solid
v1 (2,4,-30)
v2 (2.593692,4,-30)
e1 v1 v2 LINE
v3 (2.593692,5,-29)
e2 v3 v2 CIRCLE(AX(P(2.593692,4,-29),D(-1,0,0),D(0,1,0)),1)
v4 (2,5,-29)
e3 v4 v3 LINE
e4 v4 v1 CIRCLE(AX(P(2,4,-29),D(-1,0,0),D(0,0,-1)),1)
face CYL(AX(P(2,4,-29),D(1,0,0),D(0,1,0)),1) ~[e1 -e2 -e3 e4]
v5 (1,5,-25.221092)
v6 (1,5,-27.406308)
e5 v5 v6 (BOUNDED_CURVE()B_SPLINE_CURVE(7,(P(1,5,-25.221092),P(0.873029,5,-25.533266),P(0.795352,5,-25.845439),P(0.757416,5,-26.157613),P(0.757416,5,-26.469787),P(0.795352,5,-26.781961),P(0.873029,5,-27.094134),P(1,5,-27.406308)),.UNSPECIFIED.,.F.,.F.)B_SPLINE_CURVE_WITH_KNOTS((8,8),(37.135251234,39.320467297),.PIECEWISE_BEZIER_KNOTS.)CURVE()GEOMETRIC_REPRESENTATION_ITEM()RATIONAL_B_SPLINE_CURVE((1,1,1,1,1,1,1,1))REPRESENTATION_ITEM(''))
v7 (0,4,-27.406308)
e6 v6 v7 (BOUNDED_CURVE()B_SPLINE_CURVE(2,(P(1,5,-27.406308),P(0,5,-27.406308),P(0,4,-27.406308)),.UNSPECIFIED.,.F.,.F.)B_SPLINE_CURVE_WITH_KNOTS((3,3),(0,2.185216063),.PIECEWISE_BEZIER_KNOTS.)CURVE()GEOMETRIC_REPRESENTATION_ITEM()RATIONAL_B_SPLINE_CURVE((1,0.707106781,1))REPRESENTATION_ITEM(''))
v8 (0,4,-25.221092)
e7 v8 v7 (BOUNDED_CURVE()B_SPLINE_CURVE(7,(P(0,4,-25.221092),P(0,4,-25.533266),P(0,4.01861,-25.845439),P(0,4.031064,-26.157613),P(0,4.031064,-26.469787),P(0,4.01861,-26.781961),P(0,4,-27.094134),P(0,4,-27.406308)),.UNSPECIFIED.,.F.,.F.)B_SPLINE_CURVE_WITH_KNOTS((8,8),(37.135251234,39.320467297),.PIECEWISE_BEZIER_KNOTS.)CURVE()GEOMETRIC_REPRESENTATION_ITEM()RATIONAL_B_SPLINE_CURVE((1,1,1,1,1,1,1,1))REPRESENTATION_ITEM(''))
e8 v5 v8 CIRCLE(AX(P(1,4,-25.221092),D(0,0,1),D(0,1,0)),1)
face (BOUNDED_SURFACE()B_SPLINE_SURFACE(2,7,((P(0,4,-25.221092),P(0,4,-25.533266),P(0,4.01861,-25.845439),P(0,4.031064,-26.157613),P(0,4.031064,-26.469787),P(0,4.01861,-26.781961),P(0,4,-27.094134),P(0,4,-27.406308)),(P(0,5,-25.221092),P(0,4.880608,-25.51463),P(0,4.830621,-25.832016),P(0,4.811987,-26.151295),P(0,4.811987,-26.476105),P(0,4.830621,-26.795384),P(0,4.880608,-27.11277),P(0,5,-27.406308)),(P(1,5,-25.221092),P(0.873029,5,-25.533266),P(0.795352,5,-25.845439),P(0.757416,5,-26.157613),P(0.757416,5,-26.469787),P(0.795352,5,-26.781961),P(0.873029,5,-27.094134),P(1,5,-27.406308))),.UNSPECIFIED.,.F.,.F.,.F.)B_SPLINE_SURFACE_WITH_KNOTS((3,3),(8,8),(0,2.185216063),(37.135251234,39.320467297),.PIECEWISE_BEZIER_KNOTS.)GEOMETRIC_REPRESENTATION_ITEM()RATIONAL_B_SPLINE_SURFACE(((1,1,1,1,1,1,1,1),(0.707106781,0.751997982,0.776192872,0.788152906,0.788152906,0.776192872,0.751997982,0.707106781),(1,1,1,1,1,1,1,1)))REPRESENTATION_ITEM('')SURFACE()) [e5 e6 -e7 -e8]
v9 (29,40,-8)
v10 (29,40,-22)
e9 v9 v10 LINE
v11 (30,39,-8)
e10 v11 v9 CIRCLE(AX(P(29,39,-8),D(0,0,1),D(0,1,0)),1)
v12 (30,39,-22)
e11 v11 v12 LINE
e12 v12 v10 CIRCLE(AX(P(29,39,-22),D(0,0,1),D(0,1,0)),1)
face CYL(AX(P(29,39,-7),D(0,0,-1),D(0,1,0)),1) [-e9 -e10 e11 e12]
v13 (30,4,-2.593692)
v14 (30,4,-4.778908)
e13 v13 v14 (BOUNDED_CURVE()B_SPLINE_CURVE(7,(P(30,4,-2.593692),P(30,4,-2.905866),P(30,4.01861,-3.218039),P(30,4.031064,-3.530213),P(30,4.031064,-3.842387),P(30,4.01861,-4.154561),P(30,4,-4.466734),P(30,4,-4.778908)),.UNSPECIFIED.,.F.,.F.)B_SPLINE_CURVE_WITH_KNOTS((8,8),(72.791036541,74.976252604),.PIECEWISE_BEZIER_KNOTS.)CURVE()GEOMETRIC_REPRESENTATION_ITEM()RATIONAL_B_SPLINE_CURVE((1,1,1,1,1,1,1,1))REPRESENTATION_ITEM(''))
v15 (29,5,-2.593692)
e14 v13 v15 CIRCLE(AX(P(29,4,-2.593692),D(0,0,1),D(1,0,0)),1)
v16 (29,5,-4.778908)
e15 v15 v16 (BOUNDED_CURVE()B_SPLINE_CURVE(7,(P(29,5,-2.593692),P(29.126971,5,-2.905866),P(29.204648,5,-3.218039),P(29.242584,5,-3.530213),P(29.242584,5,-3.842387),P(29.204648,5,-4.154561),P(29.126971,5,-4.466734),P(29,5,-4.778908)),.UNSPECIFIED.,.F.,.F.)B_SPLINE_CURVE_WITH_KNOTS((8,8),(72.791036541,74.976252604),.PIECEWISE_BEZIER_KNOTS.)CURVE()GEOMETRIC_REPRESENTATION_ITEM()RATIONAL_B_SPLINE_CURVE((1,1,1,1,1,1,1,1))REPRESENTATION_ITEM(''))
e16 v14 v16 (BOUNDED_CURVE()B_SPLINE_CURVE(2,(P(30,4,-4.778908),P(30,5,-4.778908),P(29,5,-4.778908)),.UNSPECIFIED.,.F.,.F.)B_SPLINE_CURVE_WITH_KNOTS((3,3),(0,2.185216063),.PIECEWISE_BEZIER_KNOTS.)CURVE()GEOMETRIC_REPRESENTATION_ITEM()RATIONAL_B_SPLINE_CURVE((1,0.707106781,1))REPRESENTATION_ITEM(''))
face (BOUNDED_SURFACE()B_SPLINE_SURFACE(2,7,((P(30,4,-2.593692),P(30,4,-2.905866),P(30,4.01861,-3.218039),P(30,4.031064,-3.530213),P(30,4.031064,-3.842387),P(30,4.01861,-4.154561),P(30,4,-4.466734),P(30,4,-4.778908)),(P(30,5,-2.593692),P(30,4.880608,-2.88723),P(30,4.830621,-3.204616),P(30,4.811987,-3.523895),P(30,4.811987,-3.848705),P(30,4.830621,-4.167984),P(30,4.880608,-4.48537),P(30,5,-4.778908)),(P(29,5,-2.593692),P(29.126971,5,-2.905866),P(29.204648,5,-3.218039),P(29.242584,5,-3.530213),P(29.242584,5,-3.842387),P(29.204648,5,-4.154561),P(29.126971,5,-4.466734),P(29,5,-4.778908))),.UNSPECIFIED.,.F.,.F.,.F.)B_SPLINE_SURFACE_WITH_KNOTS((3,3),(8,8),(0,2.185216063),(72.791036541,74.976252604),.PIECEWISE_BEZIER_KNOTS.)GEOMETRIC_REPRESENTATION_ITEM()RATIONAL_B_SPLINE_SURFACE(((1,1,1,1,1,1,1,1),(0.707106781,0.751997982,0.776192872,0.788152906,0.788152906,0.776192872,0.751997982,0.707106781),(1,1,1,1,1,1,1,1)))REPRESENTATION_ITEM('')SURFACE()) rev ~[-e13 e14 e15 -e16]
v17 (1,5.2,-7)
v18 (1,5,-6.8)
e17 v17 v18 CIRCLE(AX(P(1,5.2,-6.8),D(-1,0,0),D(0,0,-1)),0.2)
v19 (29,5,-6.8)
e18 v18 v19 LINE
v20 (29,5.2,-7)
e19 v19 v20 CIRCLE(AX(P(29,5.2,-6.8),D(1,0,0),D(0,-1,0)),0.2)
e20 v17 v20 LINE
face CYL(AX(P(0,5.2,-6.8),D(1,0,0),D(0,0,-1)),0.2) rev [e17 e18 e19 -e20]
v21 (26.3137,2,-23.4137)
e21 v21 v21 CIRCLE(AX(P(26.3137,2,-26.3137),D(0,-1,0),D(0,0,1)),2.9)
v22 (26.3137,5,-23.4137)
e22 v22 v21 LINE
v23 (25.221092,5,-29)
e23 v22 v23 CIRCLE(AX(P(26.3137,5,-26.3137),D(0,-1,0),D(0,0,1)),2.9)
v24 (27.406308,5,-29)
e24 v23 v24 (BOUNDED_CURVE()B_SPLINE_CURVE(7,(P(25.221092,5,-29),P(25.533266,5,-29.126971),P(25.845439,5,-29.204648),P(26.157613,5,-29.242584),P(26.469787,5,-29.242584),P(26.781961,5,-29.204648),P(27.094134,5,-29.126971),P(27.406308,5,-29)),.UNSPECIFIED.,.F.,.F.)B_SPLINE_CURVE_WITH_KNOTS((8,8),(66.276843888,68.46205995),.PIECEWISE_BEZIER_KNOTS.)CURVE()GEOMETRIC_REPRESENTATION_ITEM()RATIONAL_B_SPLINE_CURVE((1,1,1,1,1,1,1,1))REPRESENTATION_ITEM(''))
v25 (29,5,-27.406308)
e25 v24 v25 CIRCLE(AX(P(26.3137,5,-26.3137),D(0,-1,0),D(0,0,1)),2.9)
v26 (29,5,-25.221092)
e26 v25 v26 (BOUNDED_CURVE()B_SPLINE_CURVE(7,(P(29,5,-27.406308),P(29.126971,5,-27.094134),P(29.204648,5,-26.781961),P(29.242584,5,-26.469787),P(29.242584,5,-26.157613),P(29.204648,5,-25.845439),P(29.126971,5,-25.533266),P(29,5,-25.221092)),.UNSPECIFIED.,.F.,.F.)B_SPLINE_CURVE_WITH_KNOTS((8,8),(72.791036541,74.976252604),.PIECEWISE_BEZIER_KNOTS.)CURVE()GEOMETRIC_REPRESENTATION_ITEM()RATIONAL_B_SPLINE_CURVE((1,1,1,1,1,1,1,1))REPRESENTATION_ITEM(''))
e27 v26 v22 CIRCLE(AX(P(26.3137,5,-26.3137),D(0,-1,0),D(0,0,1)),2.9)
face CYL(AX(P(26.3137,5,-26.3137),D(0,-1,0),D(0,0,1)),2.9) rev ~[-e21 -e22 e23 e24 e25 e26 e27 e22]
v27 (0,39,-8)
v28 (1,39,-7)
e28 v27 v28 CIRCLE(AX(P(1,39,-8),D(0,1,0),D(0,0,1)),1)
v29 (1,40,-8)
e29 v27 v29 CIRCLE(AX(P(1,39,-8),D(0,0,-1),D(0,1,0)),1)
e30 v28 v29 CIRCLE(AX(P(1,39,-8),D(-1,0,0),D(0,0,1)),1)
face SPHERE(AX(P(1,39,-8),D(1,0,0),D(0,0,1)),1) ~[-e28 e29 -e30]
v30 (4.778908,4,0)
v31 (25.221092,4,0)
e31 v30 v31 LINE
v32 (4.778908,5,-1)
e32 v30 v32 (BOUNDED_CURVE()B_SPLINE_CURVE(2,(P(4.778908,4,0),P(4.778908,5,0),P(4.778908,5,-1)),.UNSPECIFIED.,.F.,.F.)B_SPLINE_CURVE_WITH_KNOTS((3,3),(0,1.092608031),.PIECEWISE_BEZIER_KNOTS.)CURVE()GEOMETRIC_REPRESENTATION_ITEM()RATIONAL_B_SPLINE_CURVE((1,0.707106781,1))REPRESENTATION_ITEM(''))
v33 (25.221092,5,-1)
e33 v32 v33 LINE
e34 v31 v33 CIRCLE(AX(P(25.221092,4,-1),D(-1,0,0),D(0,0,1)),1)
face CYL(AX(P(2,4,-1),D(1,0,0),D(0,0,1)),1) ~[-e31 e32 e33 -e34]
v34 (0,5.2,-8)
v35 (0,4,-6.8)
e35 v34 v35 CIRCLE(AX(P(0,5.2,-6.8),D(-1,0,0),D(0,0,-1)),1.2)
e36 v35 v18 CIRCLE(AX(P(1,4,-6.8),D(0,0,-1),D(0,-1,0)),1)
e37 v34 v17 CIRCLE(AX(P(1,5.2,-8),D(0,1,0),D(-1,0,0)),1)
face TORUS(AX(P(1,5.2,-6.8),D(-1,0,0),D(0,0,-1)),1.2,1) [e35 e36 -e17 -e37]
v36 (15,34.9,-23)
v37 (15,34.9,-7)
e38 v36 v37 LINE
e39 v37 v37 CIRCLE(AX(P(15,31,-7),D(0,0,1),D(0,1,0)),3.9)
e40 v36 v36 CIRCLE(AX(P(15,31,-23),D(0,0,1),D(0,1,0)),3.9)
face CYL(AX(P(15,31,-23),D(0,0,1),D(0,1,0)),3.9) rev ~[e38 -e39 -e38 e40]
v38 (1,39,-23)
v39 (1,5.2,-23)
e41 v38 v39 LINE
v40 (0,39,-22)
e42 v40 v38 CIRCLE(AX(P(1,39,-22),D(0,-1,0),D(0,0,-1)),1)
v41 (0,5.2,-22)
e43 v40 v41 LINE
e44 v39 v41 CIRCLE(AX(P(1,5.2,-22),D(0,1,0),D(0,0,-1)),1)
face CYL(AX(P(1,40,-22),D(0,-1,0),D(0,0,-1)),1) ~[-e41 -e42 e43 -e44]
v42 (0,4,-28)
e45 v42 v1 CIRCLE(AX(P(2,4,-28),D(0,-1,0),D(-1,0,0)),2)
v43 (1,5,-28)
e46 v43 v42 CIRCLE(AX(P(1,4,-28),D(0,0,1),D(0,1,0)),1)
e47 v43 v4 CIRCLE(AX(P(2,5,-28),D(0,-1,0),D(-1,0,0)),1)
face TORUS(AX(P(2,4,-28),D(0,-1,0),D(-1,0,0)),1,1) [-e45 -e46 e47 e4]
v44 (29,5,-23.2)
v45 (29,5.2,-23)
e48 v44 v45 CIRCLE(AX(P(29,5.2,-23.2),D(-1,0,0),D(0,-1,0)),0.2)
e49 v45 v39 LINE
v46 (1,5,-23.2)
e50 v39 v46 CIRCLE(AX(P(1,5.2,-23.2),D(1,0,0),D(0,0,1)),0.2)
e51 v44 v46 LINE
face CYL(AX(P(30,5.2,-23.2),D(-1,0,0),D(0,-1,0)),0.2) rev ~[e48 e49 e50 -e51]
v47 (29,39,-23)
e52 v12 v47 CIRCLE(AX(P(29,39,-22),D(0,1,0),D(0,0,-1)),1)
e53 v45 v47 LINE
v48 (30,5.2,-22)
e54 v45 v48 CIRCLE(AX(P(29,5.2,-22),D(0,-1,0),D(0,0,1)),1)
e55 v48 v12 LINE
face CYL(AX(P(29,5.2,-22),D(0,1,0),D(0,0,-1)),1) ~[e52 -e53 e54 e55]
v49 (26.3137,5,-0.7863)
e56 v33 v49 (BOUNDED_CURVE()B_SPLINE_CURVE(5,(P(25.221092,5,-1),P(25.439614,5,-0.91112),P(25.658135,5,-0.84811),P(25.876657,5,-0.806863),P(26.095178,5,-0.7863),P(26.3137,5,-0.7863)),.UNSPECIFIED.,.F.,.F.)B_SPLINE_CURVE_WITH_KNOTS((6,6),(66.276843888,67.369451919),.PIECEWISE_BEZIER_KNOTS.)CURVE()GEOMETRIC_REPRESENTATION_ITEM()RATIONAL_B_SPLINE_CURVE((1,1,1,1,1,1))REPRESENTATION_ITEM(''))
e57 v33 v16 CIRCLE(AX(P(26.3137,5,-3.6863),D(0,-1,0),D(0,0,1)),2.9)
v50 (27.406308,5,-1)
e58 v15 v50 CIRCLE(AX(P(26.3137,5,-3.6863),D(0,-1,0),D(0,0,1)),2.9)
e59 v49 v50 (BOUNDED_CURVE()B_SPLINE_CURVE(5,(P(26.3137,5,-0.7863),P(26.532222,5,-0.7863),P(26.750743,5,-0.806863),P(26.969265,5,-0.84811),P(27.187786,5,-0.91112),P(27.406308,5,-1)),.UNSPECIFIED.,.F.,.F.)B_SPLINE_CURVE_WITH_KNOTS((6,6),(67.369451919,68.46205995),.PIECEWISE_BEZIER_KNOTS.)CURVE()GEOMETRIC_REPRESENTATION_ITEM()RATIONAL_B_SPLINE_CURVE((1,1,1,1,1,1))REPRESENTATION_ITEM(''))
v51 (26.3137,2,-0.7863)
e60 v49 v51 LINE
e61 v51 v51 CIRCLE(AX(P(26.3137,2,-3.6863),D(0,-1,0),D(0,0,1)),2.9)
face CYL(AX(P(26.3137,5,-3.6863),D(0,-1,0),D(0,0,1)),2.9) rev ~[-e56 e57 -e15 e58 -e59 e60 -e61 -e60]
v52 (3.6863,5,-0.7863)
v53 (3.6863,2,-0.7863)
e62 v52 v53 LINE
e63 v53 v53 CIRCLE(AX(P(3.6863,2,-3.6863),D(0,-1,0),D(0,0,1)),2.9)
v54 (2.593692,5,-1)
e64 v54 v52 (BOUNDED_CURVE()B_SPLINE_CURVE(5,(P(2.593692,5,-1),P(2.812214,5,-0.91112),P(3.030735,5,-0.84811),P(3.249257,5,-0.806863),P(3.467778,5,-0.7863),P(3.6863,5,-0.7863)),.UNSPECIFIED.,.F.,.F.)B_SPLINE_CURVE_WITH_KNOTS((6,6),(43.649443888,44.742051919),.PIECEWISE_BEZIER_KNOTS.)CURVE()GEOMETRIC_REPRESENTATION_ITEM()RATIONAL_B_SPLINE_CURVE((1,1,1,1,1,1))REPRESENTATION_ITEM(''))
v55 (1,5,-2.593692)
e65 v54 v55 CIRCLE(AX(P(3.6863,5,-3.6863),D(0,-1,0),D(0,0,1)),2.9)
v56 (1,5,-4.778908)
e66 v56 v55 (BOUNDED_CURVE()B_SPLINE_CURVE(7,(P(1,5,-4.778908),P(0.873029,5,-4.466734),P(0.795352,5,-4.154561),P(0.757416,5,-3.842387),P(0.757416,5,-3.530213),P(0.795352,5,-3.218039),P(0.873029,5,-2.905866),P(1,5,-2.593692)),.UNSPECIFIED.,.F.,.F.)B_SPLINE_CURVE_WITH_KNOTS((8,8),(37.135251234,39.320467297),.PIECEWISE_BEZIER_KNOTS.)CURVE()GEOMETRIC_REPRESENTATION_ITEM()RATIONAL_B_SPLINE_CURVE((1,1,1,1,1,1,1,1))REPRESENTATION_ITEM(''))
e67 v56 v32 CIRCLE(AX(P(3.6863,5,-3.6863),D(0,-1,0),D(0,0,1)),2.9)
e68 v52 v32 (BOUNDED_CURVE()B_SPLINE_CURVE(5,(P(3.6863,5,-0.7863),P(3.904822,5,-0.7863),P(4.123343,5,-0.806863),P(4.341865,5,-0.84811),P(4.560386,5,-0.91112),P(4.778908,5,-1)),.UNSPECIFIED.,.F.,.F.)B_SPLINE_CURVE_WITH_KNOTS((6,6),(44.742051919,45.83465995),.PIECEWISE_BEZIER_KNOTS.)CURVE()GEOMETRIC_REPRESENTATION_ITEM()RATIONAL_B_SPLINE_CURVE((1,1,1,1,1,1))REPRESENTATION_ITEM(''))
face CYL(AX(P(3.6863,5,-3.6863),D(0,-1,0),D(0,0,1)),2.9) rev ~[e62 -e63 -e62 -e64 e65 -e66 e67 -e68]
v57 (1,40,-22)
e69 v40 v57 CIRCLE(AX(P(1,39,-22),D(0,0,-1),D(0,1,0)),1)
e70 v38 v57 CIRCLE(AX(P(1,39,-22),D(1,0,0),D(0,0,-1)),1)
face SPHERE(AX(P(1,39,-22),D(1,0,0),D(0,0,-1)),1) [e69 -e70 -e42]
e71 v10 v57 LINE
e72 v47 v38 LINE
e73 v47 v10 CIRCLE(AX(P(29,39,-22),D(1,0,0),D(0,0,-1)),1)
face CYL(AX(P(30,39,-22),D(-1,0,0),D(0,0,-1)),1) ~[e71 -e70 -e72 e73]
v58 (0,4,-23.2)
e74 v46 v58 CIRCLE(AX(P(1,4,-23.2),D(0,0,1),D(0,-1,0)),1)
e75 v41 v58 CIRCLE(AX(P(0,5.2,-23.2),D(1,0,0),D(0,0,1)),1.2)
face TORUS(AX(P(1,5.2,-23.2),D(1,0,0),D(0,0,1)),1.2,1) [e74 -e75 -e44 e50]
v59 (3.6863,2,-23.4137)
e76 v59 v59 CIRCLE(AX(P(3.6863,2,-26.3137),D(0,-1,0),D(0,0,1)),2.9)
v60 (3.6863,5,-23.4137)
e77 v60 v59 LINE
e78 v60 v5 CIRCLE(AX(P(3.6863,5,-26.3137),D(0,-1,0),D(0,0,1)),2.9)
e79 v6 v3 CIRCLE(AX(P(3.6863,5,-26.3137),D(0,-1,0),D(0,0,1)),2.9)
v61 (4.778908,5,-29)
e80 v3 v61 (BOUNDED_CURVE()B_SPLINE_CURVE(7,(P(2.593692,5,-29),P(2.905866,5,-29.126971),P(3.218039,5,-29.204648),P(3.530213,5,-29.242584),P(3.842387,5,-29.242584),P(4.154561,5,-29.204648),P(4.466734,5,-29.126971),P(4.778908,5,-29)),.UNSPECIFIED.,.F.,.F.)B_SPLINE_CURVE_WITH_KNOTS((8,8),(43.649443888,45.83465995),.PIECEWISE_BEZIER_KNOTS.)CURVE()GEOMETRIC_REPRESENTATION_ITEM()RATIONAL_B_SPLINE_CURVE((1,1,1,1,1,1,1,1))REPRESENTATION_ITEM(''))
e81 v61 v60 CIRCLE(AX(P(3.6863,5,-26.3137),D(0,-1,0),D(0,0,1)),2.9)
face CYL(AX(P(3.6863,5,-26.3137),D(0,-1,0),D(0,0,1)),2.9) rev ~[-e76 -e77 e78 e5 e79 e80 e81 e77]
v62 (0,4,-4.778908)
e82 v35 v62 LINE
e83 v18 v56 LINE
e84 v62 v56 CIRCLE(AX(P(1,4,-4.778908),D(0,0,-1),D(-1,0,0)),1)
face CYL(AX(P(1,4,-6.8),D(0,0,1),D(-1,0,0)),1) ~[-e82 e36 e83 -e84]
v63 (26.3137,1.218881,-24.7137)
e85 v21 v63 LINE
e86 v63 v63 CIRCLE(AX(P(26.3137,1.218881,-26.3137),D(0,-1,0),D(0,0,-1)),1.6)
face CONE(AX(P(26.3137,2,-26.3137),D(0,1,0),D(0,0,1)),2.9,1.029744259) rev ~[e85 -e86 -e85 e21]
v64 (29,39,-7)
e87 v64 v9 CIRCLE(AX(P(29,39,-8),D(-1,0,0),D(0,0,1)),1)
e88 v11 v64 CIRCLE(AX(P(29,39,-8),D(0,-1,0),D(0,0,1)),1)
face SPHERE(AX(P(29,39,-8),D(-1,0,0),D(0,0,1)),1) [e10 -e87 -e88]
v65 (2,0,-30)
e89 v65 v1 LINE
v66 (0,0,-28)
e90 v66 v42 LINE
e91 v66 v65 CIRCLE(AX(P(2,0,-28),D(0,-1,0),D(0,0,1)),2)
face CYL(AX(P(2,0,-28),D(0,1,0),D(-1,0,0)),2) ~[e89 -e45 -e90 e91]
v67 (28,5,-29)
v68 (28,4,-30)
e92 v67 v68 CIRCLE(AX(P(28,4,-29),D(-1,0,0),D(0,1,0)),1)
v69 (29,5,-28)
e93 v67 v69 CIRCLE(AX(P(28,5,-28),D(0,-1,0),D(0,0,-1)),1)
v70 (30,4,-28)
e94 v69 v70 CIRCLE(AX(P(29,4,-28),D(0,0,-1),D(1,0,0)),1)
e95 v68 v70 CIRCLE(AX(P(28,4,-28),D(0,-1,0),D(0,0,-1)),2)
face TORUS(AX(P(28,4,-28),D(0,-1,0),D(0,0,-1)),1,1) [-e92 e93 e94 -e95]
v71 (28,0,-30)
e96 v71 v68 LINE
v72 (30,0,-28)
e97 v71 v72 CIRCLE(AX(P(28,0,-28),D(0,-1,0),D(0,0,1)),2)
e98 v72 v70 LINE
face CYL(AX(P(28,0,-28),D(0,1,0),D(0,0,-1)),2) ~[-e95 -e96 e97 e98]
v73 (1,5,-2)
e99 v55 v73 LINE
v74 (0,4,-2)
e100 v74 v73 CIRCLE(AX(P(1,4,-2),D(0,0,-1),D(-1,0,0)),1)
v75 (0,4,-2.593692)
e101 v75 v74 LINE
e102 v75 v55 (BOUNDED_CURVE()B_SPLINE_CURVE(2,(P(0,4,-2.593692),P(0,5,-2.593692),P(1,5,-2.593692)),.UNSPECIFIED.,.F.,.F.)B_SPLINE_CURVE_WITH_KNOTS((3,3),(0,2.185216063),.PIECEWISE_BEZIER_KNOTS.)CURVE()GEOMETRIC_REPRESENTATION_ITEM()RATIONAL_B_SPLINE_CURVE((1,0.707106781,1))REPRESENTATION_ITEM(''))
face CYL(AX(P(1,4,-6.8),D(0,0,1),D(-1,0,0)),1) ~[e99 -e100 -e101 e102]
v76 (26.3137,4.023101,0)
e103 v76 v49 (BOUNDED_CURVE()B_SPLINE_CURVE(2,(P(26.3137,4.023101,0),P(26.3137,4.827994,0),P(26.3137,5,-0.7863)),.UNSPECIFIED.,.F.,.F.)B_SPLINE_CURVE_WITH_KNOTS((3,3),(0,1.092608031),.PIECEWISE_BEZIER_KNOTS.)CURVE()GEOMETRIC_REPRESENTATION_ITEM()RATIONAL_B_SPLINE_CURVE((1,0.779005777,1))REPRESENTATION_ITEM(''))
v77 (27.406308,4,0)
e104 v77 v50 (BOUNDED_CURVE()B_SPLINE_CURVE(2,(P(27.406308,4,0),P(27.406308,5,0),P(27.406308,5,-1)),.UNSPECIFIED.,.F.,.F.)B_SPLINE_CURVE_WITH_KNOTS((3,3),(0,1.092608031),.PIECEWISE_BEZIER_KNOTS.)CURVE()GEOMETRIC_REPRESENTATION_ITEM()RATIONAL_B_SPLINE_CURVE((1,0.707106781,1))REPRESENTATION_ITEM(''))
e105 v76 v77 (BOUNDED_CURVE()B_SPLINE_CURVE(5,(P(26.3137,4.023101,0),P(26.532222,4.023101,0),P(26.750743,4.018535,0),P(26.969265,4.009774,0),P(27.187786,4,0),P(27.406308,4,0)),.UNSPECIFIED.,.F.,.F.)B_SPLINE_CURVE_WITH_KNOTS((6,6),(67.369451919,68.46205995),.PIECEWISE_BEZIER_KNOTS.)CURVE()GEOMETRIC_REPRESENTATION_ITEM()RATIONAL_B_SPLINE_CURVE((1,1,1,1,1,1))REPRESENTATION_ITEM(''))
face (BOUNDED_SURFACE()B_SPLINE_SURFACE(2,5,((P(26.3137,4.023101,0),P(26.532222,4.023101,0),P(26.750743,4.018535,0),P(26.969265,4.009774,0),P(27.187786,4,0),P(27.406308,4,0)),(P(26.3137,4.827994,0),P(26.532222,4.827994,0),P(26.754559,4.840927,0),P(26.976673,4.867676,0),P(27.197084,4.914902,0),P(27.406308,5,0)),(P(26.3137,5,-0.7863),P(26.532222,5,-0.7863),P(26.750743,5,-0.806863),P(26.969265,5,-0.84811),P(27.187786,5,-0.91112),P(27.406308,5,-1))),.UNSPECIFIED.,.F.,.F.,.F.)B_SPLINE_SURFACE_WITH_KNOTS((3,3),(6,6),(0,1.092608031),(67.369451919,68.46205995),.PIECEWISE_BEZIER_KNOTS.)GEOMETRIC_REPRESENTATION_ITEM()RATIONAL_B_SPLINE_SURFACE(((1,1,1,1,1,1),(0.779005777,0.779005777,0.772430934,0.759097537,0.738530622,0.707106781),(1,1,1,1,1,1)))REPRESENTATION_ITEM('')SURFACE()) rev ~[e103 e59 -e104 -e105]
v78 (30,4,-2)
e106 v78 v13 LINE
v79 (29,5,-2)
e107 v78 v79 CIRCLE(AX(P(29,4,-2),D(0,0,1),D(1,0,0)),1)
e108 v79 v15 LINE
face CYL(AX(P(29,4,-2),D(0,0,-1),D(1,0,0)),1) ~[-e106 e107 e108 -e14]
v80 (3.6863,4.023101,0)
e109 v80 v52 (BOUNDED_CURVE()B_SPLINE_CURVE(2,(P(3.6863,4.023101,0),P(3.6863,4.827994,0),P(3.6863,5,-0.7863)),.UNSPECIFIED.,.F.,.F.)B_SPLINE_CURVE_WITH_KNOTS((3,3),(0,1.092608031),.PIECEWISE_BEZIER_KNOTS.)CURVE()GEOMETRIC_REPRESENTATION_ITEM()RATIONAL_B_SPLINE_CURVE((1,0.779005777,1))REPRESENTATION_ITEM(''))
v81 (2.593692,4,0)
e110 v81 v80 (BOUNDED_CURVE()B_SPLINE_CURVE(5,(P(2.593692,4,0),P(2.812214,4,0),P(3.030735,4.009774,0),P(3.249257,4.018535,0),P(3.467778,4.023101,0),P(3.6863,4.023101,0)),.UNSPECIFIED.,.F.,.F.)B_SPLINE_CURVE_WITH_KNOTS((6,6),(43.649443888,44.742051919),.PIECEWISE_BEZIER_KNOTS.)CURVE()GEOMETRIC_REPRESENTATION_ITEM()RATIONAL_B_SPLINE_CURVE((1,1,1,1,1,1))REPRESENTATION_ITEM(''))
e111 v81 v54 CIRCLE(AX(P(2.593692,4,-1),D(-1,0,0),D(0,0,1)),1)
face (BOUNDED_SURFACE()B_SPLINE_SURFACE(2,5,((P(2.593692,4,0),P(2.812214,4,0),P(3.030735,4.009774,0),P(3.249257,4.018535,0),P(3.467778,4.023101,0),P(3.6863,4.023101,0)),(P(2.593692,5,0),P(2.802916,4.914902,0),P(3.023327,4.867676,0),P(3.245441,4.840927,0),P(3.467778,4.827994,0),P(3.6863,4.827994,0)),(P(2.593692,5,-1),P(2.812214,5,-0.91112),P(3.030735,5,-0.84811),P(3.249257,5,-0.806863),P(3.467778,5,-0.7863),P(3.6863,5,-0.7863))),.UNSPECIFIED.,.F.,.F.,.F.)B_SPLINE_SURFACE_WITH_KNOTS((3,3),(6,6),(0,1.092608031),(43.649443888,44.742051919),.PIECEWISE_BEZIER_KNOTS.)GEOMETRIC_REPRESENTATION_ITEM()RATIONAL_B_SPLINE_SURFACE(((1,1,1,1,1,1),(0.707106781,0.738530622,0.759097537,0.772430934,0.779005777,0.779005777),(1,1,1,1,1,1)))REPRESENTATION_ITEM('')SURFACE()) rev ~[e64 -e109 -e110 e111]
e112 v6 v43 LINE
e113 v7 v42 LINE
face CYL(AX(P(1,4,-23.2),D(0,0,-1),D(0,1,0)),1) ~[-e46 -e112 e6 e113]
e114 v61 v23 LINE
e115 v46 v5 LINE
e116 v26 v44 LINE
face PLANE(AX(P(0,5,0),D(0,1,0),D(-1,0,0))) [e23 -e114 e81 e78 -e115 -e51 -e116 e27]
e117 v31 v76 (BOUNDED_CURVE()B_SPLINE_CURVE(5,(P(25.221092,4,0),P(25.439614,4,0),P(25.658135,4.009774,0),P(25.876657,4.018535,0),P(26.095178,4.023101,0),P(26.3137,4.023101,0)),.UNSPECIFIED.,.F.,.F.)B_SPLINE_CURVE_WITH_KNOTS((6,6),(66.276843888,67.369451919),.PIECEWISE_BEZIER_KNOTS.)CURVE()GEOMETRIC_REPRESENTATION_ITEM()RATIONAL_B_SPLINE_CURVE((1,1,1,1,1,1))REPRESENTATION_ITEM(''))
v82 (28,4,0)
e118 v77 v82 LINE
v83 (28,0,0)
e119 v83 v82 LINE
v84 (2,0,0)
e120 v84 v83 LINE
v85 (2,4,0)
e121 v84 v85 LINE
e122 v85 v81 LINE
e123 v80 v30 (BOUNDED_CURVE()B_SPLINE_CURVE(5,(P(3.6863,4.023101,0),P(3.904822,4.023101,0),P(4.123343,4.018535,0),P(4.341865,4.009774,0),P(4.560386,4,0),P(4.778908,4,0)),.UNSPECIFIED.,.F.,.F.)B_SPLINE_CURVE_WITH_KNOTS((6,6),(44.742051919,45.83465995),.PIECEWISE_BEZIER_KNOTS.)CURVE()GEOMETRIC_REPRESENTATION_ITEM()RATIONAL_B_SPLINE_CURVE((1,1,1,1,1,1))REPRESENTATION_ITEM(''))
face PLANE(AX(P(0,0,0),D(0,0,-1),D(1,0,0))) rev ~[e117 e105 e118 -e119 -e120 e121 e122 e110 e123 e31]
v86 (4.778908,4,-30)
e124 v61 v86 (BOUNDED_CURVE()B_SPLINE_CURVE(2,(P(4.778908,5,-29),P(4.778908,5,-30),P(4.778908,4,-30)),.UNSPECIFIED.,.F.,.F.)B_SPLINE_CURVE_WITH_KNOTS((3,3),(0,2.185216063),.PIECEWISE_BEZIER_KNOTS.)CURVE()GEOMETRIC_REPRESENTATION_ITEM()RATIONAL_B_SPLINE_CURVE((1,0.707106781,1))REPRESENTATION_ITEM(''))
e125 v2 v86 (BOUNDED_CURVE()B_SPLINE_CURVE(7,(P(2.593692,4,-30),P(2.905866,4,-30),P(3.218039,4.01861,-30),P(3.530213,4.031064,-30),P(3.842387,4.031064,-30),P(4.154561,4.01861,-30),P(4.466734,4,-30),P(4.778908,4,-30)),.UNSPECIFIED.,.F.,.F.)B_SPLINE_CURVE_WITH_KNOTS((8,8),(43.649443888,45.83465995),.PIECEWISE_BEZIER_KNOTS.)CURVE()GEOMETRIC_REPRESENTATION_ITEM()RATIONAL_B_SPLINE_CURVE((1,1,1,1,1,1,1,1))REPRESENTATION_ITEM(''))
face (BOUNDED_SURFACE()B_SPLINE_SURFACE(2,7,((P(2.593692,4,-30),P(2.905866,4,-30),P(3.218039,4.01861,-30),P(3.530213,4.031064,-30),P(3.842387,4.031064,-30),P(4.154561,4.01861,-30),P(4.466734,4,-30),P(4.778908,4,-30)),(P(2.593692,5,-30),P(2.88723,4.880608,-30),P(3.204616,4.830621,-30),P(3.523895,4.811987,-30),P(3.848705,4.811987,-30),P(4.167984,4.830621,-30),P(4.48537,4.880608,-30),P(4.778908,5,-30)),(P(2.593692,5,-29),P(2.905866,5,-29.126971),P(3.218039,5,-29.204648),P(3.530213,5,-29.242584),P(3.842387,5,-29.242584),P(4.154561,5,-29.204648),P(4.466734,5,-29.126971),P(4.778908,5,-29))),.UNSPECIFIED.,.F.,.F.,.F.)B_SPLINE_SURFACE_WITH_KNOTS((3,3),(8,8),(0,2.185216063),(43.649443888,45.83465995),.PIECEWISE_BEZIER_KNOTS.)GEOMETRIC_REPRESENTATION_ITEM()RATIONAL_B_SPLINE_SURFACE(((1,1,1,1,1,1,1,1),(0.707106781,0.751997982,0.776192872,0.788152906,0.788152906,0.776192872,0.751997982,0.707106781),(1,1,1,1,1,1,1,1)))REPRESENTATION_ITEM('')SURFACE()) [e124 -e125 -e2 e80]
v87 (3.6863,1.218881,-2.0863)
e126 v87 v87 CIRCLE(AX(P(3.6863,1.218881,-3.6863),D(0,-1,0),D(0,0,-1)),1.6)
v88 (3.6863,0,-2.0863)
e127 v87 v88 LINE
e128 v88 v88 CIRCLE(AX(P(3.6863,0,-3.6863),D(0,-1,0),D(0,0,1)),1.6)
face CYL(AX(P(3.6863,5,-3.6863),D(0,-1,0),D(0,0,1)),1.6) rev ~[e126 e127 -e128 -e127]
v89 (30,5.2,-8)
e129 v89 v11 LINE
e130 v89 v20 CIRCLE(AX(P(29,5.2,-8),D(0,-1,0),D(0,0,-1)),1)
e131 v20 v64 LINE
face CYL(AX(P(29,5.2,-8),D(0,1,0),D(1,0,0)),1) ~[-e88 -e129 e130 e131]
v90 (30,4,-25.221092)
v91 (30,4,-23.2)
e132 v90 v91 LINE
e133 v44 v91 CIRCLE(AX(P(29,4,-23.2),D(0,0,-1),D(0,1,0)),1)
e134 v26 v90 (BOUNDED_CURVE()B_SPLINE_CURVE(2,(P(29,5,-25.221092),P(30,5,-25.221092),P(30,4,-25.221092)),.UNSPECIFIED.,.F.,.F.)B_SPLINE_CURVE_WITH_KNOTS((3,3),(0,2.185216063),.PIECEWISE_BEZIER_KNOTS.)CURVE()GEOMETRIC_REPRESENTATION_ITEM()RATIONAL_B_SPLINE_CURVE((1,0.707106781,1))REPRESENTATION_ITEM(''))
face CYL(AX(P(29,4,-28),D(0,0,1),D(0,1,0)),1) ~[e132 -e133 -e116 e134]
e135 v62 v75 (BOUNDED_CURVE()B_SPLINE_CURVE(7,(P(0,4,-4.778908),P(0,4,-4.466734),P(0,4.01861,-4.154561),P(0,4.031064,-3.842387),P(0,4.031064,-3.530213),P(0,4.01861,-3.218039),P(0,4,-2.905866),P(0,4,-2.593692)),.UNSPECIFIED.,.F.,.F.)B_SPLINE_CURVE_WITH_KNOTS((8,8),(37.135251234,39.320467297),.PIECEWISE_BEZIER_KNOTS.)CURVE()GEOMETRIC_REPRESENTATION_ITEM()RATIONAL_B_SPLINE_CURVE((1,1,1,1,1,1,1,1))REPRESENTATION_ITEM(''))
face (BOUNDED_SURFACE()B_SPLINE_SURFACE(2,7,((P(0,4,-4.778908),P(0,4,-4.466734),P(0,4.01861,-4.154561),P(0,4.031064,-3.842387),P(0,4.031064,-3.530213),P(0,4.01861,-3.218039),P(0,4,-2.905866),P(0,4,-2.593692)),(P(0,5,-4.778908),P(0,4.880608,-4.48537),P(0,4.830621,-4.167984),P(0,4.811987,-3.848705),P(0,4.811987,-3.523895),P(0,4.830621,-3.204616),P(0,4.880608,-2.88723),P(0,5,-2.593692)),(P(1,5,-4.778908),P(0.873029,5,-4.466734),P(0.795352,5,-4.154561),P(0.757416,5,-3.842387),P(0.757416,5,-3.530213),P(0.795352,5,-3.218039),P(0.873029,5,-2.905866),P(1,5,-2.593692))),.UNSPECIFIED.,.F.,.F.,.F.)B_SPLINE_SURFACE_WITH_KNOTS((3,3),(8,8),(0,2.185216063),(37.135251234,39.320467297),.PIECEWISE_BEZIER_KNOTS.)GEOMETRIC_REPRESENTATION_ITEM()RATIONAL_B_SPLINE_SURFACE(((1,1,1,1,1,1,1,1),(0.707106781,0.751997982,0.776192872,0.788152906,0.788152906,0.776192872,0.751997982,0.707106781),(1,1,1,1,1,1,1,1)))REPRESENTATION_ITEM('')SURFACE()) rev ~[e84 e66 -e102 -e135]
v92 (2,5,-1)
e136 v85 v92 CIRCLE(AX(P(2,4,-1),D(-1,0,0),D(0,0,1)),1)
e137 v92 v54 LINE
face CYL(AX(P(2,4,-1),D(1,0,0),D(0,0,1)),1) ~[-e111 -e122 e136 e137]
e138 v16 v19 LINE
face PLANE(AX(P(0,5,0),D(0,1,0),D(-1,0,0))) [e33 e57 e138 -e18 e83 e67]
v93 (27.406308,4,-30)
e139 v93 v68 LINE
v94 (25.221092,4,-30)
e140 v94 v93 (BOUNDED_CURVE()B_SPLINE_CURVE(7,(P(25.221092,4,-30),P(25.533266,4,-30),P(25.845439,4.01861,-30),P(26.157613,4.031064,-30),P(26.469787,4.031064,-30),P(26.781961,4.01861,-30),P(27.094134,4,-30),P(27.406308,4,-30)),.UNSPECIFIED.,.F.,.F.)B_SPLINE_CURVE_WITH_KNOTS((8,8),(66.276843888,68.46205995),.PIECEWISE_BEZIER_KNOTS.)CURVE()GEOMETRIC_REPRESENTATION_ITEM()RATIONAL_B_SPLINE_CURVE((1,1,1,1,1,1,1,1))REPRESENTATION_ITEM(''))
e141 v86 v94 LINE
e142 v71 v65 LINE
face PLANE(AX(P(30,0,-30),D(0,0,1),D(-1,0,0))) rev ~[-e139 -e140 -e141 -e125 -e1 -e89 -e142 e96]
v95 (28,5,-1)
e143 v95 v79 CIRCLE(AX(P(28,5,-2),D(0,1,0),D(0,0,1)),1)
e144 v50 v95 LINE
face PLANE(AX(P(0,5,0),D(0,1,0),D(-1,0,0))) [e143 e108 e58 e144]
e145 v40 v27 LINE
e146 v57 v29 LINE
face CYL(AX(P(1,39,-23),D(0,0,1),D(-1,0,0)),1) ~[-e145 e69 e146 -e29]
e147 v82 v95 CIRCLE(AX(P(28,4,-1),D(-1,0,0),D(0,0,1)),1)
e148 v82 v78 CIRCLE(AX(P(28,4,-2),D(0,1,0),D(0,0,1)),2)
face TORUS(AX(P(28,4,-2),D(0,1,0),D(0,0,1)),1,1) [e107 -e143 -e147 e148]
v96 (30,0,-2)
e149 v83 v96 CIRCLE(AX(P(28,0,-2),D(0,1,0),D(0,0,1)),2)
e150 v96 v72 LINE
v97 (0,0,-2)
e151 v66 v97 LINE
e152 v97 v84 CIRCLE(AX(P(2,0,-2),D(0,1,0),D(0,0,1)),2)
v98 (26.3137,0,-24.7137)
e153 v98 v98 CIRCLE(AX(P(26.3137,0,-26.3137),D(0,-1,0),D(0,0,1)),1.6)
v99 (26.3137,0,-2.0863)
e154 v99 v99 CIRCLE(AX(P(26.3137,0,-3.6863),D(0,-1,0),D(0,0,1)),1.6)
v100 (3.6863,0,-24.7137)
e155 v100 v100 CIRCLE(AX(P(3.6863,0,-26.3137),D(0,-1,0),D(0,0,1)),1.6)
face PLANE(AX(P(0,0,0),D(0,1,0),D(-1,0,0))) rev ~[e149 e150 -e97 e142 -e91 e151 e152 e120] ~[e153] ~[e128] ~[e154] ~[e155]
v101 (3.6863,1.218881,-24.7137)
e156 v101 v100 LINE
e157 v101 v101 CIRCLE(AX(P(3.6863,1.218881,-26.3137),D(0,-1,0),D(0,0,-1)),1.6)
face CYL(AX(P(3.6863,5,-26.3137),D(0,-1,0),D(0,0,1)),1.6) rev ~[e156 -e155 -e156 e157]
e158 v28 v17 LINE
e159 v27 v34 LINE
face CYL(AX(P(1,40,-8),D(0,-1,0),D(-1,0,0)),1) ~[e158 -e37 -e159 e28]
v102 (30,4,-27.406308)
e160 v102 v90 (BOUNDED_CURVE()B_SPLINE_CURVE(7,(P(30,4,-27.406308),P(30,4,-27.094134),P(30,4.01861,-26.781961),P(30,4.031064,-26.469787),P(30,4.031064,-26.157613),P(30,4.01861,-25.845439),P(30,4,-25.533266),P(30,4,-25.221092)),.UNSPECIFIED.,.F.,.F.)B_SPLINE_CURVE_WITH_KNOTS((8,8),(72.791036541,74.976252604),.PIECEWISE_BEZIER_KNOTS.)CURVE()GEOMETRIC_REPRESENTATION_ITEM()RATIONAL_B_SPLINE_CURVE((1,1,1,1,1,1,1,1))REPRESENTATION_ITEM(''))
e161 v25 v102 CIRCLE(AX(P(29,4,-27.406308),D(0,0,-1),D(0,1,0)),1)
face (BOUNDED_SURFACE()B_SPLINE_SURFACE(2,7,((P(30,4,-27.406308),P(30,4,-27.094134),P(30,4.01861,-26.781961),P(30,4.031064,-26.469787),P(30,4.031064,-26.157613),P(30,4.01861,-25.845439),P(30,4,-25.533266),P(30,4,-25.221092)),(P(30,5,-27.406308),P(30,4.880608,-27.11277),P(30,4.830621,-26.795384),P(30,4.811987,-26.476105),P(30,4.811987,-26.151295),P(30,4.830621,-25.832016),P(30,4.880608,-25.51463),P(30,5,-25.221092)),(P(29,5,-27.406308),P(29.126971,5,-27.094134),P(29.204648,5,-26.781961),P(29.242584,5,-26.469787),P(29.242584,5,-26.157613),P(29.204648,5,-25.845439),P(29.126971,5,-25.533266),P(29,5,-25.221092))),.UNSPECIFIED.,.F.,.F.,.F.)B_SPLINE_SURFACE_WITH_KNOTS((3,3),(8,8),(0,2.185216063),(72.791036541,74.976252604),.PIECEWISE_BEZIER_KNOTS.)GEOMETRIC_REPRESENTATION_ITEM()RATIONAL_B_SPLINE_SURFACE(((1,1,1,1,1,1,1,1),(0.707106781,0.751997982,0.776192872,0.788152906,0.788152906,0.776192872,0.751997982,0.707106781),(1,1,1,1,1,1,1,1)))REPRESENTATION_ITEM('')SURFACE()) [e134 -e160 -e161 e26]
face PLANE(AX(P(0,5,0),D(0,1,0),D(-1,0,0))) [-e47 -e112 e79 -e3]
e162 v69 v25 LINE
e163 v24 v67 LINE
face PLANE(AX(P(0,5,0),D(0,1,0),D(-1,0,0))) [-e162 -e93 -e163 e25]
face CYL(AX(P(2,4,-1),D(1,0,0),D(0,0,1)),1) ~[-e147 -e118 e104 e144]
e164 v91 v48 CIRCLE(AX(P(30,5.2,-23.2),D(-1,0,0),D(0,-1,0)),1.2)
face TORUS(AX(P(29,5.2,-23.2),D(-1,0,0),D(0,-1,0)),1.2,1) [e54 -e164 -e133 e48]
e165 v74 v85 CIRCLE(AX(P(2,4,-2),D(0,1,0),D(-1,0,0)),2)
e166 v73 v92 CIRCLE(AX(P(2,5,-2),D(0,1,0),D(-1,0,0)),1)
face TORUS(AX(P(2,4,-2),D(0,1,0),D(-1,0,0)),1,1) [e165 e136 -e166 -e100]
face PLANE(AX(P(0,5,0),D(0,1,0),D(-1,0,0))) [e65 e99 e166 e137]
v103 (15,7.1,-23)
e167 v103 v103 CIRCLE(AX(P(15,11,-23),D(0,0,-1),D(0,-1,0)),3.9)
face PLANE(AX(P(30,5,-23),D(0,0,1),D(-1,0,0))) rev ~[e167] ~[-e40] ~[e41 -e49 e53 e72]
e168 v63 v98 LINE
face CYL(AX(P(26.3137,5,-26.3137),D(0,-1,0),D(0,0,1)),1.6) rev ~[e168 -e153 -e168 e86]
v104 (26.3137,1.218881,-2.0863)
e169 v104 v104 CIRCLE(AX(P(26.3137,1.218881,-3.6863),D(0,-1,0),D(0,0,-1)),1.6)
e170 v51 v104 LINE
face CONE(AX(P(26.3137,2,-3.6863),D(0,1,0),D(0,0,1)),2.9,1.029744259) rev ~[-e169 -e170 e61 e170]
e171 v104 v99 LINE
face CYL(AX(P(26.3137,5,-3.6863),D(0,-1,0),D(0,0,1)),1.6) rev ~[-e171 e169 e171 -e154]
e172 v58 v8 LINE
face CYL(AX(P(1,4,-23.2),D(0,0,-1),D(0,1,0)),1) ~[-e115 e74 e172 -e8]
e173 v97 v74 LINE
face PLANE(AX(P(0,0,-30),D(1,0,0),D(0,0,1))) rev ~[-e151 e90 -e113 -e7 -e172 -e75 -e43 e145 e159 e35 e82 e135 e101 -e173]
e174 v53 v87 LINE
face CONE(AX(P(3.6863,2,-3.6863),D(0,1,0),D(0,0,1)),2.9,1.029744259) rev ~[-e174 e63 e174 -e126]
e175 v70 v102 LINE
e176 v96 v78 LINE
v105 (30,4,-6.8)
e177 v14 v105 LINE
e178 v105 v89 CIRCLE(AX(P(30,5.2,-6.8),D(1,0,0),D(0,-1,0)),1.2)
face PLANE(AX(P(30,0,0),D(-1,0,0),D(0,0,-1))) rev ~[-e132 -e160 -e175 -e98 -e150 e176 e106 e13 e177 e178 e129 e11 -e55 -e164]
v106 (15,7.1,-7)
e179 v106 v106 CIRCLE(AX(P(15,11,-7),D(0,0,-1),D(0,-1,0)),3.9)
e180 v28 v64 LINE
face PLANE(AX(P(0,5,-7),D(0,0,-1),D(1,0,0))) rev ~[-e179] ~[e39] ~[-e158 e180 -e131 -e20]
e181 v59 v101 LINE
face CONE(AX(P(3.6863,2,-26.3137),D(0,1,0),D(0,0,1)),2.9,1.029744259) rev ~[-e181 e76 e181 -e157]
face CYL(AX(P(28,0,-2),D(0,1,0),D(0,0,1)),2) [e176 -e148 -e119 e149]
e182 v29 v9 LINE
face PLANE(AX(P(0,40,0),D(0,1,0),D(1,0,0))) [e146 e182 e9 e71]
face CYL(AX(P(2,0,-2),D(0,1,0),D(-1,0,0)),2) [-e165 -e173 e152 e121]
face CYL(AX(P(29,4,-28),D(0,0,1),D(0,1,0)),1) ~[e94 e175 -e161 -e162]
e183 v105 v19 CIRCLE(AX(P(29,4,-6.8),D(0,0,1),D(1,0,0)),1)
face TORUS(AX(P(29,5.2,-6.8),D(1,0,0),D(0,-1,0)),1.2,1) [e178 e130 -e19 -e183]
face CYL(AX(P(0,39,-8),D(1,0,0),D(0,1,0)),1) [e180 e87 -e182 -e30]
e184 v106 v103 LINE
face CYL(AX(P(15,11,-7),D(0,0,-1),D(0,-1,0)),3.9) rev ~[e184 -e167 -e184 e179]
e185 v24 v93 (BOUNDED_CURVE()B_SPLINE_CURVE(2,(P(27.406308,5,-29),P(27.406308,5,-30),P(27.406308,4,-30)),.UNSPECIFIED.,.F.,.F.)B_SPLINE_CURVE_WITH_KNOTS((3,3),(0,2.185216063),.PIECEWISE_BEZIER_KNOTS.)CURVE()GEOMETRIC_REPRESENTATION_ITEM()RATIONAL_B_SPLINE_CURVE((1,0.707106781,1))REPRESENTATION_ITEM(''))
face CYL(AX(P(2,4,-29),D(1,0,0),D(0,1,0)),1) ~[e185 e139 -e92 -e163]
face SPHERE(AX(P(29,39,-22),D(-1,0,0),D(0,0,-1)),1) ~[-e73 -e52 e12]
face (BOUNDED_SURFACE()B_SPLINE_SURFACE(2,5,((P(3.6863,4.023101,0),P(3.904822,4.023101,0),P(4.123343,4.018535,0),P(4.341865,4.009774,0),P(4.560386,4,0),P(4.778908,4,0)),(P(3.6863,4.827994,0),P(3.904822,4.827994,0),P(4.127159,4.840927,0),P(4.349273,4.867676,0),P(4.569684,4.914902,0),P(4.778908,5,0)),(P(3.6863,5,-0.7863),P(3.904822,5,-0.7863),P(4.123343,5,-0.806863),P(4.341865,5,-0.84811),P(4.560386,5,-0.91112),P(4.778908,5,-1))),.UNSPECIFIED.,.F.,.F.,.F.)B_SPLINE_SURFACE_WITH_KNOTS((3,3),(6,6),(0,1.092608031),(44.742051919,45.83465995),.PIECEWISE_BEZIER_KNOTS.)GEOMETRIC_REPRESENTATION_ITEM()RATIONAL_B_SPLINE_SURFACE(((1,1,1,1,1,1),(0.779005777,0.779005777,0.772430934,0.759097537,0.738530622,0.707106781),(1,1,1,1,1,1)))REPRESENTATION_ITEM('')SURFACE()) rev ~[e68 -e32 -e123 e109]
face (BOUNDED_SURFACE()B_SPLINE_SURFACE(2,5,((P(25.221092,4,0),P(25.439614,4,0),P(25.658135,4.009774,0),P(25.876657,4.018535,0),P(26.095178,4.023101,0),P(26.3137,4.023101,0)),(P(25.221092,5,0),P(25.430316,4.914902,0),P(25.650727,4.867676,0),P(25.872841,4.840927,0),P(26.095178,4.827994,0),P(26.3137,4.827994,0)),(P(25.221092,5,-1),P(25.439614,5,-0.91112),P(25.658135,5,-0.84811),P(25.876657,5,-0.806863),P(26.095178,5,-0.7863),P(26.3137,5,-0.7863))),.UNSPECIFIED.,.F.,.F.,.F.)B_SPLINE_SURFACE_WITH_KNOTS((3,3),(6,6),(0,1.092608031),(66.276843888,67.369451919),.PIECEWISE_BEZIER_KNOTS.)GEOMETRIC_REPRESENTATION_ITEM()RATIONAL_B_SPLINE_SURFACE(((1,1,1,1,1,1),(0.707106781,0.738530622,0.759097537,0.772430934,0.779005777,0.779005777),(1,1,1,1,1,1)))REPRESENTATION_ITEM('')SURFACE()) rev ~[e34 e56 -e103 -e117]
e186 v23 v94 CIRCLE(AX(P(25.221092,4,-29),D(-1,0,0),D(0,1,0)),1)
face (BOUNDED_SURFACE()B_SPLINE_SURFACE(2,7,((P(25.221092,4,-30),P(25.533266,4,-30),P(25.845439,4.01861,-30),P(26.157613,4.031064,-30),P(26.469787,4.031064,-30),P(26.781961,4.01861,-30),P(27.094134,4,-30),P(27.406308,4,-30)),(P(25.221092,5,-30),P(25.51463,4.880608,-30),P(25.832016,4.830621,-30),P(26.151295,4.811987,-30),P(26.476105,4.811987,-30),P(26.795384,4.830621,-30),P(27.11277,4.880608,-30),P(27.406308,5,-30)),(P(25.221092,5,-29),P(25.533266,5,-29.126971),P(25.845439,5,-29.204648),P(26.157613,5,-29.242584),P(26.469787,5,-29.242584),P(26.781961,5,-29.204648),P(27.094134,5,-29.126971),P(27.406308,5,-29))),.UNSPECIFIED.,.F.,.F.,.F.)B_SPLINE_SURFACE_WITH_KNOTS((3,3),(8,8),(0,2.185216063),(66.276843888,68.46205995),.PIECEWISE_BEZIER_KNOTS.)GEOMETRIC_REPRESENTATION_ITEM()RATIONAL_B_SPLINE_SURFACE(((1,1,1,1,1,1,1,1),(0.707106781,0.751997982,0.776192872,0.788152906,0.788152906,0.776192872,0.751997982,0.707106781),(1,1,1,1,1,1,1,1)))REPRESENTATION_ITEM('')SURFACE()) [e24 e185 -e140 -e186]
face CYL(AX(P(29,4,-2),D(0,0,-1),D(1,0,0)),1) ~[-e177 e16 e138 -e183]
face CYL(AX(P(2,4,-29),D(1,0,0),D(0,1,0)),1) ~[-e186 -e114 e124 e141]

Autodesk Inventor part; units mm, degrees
ref_plane "YZ Plane" through (0, 0, 0) normal (1, 0, 0) x (0, 1, 0)
ref_plane "XZ Plane" through (0, 0, 0) normal (0, 1, 0) x (-1, 0, 0)
ref_plane "XY Plane" through (0, 0, 0) normal (0, 0, 1) x (1, 0, 0)
sketch "スケッチ1" plane through (0, 0, 0) normal (0, 1, 0) x (-1, 0, 0)
  line L0 (0, 0) -> (-30, 0)
  line L1 (-30, 0) -> (-30, -30)
  line L2 (-30, -30) -> (0, -30)
  line L3 (0, -30) -> (0, 0)
  dimension "d0" = 30
  dimension "d1" = 30
extrude "押し出し1" add sketch "スケッチ1" along normal blind 5
sketch "スケッチ2" plane through (0, 5, 0) normal (0, 1, 0) x (1, 0, 0)
  line L0 (30, 0) -> (30, 30) projected
  line L1 (30, 30) -> (0, 30) projected
  line L2 (0, 30) -> (30, 0) construction
  line L3 (30, 30) -> (0, 0) construction
  circle A0 centre (15, 15) radius 16 construction
  point P0 (26.3137, 26.3137)
  point P1 (26.3137, 3.6863)
  point P2 (3.6863, 3.6863)
  point P3 (3.6863, 26.3137)
  point P4 (15, 15)
  dimension "d12" = 32
  dimension "d76" = 0
hole "穴2" at (26.3137, 5, -26.3137) at (26.3137, 5, -3.6863) at (3.6863, 5, -3.6863) at (3.6863, 5, -26.3137) direction (0, -1, 0) diameter 3.2 end through all
sketch "スケッチ3" plane through (0, 5, 0) normal (0, 1, 0) x (1, 0, 0)
  circle A0 centre (26.3137, 3.6863) radius 1.6 projected
  circle A1 centre (3.6863, 3.6863) radius 1.6 projected
  circle A2 centre (3.6863, 26.3137) radius 1.6 projected
  circle A3 centre (26.3137, 26.3137) radius 1.6 projected
  point P0 (0, 0)
hole "穴3" at (26.3137, 5, -3.6863) at (3.6863, 5, -3.6863) at (3.6863, 5, -26.3137) at (26.3137, 5, -26.3137) direction (0, -1, 0) diameter 5.8 depth 3 tip angle 118
sketch "スケッチ4" plane through (0, 5, 0) normal (0, 1, 0) x (1, 0, 0)
  line L0 (0, 30) -> (0, 0) projected
  line L1 (30, 0) -> (30, 30) projected
  line L2 (0, 7) -> (30, 7)
  line L3 (30, 7) -> (30, 23)
  line L4 (30, 23) -> (0, 23)
  line L5 (0, 23) -> (0, 7)
  line L6 (0, 0) -> (30, 0) projected
  point P0 (0, 23)
  dimension "d27" = 16
  dimension "d28" = 7
extrude "押し出し2" add sketch "スケッチ4" along normal blind 35 contours L4 L1 L2 L0
fillet "フィレット6" radius 2 4 edges at (30, 2.5, 0) (0, 2.5, 0) (0, 2.5, -30) (30, 2.5, -30)
sketch "スケッチ8" plane through (0, 5, -7) normal (0, 0, 1) x (1, 0, 0)
  line L0 (0, 35) -> (30, 35) projected
  line L1 (2, 0) -> (28, 0) projected
  point P0 (0, -5)
  point P1 (15, 6)
  point P2 (15, 35)
  point P3 (3.089, 0)
  point P4 (23.911, 0)
  dimension "d61" = 6
hole "穴6" at (15, 11, -7) direction (0, 0, -1) diameter 7.8 end through all
fillet "フィレット7" [suppressed]
fillet "フィレット8" radius 0.2 2 edges at (15, 5, -23) (15, 5, -7)
fillet "フィレット9" radius 1 22 edges at (15, 40, -23) (15, 40, -7) (30, 5.0586, -23.0586) (30, 5, -25.6) (29.4142, 5, -29.4142) (15, 5, -30) (0.5858, 5, -29.4142) (0, 5, -25.6) (0, 5.0586, -23.0586) (0, 22.6, -23) (30, 22.6, -23) (0, 5.0586, -6.9414) (0, 5, -4.4) (0.5858, 5, -0.5858) (15, 5, 0) (29.4142, 5, -0.5858) (30, 5, -4.4) (30, 5.0586, -6.9414) (30, 22.6, -7) (0, 22.6, -7) (0, 40, -15) (30, 40, -15)
fillet "フィレット10" [suppressed]
sketch "スケッチ10" plane through (29, 5.2, -23) normal (0, 0, -1) x (-1, 0, 0)
  line L0 (0, 34.8) -> (28, 34.8) construction
  circle A0 centre (14, 5.8) radius 3.9 construction
  line L1 (14, 34.8) -> (14, 5.8) construction
  arc A1 (9, 31) -> (0, 22) centre (9, 22) ccw construction
  line L2 (14, 5.8) -> (14, 32.2764) construction
  circle A2 centre (14, 5.8) radius 20 construction
  point P0 (29, -5.2)
  point P1 (9, 32)
  point P2 (19, 32)
  point P3 (14, 25.8)
  point P4 (-1, 32)
  point P5 (29, 32)
  dimension "d85" = 40
  dimension "d84" = 0
hole "穴7" at (15, 31, -23) direction (0, 0, 1) diameter 7.8 end through all
properties part number "NewPart2_for_shoulder"
